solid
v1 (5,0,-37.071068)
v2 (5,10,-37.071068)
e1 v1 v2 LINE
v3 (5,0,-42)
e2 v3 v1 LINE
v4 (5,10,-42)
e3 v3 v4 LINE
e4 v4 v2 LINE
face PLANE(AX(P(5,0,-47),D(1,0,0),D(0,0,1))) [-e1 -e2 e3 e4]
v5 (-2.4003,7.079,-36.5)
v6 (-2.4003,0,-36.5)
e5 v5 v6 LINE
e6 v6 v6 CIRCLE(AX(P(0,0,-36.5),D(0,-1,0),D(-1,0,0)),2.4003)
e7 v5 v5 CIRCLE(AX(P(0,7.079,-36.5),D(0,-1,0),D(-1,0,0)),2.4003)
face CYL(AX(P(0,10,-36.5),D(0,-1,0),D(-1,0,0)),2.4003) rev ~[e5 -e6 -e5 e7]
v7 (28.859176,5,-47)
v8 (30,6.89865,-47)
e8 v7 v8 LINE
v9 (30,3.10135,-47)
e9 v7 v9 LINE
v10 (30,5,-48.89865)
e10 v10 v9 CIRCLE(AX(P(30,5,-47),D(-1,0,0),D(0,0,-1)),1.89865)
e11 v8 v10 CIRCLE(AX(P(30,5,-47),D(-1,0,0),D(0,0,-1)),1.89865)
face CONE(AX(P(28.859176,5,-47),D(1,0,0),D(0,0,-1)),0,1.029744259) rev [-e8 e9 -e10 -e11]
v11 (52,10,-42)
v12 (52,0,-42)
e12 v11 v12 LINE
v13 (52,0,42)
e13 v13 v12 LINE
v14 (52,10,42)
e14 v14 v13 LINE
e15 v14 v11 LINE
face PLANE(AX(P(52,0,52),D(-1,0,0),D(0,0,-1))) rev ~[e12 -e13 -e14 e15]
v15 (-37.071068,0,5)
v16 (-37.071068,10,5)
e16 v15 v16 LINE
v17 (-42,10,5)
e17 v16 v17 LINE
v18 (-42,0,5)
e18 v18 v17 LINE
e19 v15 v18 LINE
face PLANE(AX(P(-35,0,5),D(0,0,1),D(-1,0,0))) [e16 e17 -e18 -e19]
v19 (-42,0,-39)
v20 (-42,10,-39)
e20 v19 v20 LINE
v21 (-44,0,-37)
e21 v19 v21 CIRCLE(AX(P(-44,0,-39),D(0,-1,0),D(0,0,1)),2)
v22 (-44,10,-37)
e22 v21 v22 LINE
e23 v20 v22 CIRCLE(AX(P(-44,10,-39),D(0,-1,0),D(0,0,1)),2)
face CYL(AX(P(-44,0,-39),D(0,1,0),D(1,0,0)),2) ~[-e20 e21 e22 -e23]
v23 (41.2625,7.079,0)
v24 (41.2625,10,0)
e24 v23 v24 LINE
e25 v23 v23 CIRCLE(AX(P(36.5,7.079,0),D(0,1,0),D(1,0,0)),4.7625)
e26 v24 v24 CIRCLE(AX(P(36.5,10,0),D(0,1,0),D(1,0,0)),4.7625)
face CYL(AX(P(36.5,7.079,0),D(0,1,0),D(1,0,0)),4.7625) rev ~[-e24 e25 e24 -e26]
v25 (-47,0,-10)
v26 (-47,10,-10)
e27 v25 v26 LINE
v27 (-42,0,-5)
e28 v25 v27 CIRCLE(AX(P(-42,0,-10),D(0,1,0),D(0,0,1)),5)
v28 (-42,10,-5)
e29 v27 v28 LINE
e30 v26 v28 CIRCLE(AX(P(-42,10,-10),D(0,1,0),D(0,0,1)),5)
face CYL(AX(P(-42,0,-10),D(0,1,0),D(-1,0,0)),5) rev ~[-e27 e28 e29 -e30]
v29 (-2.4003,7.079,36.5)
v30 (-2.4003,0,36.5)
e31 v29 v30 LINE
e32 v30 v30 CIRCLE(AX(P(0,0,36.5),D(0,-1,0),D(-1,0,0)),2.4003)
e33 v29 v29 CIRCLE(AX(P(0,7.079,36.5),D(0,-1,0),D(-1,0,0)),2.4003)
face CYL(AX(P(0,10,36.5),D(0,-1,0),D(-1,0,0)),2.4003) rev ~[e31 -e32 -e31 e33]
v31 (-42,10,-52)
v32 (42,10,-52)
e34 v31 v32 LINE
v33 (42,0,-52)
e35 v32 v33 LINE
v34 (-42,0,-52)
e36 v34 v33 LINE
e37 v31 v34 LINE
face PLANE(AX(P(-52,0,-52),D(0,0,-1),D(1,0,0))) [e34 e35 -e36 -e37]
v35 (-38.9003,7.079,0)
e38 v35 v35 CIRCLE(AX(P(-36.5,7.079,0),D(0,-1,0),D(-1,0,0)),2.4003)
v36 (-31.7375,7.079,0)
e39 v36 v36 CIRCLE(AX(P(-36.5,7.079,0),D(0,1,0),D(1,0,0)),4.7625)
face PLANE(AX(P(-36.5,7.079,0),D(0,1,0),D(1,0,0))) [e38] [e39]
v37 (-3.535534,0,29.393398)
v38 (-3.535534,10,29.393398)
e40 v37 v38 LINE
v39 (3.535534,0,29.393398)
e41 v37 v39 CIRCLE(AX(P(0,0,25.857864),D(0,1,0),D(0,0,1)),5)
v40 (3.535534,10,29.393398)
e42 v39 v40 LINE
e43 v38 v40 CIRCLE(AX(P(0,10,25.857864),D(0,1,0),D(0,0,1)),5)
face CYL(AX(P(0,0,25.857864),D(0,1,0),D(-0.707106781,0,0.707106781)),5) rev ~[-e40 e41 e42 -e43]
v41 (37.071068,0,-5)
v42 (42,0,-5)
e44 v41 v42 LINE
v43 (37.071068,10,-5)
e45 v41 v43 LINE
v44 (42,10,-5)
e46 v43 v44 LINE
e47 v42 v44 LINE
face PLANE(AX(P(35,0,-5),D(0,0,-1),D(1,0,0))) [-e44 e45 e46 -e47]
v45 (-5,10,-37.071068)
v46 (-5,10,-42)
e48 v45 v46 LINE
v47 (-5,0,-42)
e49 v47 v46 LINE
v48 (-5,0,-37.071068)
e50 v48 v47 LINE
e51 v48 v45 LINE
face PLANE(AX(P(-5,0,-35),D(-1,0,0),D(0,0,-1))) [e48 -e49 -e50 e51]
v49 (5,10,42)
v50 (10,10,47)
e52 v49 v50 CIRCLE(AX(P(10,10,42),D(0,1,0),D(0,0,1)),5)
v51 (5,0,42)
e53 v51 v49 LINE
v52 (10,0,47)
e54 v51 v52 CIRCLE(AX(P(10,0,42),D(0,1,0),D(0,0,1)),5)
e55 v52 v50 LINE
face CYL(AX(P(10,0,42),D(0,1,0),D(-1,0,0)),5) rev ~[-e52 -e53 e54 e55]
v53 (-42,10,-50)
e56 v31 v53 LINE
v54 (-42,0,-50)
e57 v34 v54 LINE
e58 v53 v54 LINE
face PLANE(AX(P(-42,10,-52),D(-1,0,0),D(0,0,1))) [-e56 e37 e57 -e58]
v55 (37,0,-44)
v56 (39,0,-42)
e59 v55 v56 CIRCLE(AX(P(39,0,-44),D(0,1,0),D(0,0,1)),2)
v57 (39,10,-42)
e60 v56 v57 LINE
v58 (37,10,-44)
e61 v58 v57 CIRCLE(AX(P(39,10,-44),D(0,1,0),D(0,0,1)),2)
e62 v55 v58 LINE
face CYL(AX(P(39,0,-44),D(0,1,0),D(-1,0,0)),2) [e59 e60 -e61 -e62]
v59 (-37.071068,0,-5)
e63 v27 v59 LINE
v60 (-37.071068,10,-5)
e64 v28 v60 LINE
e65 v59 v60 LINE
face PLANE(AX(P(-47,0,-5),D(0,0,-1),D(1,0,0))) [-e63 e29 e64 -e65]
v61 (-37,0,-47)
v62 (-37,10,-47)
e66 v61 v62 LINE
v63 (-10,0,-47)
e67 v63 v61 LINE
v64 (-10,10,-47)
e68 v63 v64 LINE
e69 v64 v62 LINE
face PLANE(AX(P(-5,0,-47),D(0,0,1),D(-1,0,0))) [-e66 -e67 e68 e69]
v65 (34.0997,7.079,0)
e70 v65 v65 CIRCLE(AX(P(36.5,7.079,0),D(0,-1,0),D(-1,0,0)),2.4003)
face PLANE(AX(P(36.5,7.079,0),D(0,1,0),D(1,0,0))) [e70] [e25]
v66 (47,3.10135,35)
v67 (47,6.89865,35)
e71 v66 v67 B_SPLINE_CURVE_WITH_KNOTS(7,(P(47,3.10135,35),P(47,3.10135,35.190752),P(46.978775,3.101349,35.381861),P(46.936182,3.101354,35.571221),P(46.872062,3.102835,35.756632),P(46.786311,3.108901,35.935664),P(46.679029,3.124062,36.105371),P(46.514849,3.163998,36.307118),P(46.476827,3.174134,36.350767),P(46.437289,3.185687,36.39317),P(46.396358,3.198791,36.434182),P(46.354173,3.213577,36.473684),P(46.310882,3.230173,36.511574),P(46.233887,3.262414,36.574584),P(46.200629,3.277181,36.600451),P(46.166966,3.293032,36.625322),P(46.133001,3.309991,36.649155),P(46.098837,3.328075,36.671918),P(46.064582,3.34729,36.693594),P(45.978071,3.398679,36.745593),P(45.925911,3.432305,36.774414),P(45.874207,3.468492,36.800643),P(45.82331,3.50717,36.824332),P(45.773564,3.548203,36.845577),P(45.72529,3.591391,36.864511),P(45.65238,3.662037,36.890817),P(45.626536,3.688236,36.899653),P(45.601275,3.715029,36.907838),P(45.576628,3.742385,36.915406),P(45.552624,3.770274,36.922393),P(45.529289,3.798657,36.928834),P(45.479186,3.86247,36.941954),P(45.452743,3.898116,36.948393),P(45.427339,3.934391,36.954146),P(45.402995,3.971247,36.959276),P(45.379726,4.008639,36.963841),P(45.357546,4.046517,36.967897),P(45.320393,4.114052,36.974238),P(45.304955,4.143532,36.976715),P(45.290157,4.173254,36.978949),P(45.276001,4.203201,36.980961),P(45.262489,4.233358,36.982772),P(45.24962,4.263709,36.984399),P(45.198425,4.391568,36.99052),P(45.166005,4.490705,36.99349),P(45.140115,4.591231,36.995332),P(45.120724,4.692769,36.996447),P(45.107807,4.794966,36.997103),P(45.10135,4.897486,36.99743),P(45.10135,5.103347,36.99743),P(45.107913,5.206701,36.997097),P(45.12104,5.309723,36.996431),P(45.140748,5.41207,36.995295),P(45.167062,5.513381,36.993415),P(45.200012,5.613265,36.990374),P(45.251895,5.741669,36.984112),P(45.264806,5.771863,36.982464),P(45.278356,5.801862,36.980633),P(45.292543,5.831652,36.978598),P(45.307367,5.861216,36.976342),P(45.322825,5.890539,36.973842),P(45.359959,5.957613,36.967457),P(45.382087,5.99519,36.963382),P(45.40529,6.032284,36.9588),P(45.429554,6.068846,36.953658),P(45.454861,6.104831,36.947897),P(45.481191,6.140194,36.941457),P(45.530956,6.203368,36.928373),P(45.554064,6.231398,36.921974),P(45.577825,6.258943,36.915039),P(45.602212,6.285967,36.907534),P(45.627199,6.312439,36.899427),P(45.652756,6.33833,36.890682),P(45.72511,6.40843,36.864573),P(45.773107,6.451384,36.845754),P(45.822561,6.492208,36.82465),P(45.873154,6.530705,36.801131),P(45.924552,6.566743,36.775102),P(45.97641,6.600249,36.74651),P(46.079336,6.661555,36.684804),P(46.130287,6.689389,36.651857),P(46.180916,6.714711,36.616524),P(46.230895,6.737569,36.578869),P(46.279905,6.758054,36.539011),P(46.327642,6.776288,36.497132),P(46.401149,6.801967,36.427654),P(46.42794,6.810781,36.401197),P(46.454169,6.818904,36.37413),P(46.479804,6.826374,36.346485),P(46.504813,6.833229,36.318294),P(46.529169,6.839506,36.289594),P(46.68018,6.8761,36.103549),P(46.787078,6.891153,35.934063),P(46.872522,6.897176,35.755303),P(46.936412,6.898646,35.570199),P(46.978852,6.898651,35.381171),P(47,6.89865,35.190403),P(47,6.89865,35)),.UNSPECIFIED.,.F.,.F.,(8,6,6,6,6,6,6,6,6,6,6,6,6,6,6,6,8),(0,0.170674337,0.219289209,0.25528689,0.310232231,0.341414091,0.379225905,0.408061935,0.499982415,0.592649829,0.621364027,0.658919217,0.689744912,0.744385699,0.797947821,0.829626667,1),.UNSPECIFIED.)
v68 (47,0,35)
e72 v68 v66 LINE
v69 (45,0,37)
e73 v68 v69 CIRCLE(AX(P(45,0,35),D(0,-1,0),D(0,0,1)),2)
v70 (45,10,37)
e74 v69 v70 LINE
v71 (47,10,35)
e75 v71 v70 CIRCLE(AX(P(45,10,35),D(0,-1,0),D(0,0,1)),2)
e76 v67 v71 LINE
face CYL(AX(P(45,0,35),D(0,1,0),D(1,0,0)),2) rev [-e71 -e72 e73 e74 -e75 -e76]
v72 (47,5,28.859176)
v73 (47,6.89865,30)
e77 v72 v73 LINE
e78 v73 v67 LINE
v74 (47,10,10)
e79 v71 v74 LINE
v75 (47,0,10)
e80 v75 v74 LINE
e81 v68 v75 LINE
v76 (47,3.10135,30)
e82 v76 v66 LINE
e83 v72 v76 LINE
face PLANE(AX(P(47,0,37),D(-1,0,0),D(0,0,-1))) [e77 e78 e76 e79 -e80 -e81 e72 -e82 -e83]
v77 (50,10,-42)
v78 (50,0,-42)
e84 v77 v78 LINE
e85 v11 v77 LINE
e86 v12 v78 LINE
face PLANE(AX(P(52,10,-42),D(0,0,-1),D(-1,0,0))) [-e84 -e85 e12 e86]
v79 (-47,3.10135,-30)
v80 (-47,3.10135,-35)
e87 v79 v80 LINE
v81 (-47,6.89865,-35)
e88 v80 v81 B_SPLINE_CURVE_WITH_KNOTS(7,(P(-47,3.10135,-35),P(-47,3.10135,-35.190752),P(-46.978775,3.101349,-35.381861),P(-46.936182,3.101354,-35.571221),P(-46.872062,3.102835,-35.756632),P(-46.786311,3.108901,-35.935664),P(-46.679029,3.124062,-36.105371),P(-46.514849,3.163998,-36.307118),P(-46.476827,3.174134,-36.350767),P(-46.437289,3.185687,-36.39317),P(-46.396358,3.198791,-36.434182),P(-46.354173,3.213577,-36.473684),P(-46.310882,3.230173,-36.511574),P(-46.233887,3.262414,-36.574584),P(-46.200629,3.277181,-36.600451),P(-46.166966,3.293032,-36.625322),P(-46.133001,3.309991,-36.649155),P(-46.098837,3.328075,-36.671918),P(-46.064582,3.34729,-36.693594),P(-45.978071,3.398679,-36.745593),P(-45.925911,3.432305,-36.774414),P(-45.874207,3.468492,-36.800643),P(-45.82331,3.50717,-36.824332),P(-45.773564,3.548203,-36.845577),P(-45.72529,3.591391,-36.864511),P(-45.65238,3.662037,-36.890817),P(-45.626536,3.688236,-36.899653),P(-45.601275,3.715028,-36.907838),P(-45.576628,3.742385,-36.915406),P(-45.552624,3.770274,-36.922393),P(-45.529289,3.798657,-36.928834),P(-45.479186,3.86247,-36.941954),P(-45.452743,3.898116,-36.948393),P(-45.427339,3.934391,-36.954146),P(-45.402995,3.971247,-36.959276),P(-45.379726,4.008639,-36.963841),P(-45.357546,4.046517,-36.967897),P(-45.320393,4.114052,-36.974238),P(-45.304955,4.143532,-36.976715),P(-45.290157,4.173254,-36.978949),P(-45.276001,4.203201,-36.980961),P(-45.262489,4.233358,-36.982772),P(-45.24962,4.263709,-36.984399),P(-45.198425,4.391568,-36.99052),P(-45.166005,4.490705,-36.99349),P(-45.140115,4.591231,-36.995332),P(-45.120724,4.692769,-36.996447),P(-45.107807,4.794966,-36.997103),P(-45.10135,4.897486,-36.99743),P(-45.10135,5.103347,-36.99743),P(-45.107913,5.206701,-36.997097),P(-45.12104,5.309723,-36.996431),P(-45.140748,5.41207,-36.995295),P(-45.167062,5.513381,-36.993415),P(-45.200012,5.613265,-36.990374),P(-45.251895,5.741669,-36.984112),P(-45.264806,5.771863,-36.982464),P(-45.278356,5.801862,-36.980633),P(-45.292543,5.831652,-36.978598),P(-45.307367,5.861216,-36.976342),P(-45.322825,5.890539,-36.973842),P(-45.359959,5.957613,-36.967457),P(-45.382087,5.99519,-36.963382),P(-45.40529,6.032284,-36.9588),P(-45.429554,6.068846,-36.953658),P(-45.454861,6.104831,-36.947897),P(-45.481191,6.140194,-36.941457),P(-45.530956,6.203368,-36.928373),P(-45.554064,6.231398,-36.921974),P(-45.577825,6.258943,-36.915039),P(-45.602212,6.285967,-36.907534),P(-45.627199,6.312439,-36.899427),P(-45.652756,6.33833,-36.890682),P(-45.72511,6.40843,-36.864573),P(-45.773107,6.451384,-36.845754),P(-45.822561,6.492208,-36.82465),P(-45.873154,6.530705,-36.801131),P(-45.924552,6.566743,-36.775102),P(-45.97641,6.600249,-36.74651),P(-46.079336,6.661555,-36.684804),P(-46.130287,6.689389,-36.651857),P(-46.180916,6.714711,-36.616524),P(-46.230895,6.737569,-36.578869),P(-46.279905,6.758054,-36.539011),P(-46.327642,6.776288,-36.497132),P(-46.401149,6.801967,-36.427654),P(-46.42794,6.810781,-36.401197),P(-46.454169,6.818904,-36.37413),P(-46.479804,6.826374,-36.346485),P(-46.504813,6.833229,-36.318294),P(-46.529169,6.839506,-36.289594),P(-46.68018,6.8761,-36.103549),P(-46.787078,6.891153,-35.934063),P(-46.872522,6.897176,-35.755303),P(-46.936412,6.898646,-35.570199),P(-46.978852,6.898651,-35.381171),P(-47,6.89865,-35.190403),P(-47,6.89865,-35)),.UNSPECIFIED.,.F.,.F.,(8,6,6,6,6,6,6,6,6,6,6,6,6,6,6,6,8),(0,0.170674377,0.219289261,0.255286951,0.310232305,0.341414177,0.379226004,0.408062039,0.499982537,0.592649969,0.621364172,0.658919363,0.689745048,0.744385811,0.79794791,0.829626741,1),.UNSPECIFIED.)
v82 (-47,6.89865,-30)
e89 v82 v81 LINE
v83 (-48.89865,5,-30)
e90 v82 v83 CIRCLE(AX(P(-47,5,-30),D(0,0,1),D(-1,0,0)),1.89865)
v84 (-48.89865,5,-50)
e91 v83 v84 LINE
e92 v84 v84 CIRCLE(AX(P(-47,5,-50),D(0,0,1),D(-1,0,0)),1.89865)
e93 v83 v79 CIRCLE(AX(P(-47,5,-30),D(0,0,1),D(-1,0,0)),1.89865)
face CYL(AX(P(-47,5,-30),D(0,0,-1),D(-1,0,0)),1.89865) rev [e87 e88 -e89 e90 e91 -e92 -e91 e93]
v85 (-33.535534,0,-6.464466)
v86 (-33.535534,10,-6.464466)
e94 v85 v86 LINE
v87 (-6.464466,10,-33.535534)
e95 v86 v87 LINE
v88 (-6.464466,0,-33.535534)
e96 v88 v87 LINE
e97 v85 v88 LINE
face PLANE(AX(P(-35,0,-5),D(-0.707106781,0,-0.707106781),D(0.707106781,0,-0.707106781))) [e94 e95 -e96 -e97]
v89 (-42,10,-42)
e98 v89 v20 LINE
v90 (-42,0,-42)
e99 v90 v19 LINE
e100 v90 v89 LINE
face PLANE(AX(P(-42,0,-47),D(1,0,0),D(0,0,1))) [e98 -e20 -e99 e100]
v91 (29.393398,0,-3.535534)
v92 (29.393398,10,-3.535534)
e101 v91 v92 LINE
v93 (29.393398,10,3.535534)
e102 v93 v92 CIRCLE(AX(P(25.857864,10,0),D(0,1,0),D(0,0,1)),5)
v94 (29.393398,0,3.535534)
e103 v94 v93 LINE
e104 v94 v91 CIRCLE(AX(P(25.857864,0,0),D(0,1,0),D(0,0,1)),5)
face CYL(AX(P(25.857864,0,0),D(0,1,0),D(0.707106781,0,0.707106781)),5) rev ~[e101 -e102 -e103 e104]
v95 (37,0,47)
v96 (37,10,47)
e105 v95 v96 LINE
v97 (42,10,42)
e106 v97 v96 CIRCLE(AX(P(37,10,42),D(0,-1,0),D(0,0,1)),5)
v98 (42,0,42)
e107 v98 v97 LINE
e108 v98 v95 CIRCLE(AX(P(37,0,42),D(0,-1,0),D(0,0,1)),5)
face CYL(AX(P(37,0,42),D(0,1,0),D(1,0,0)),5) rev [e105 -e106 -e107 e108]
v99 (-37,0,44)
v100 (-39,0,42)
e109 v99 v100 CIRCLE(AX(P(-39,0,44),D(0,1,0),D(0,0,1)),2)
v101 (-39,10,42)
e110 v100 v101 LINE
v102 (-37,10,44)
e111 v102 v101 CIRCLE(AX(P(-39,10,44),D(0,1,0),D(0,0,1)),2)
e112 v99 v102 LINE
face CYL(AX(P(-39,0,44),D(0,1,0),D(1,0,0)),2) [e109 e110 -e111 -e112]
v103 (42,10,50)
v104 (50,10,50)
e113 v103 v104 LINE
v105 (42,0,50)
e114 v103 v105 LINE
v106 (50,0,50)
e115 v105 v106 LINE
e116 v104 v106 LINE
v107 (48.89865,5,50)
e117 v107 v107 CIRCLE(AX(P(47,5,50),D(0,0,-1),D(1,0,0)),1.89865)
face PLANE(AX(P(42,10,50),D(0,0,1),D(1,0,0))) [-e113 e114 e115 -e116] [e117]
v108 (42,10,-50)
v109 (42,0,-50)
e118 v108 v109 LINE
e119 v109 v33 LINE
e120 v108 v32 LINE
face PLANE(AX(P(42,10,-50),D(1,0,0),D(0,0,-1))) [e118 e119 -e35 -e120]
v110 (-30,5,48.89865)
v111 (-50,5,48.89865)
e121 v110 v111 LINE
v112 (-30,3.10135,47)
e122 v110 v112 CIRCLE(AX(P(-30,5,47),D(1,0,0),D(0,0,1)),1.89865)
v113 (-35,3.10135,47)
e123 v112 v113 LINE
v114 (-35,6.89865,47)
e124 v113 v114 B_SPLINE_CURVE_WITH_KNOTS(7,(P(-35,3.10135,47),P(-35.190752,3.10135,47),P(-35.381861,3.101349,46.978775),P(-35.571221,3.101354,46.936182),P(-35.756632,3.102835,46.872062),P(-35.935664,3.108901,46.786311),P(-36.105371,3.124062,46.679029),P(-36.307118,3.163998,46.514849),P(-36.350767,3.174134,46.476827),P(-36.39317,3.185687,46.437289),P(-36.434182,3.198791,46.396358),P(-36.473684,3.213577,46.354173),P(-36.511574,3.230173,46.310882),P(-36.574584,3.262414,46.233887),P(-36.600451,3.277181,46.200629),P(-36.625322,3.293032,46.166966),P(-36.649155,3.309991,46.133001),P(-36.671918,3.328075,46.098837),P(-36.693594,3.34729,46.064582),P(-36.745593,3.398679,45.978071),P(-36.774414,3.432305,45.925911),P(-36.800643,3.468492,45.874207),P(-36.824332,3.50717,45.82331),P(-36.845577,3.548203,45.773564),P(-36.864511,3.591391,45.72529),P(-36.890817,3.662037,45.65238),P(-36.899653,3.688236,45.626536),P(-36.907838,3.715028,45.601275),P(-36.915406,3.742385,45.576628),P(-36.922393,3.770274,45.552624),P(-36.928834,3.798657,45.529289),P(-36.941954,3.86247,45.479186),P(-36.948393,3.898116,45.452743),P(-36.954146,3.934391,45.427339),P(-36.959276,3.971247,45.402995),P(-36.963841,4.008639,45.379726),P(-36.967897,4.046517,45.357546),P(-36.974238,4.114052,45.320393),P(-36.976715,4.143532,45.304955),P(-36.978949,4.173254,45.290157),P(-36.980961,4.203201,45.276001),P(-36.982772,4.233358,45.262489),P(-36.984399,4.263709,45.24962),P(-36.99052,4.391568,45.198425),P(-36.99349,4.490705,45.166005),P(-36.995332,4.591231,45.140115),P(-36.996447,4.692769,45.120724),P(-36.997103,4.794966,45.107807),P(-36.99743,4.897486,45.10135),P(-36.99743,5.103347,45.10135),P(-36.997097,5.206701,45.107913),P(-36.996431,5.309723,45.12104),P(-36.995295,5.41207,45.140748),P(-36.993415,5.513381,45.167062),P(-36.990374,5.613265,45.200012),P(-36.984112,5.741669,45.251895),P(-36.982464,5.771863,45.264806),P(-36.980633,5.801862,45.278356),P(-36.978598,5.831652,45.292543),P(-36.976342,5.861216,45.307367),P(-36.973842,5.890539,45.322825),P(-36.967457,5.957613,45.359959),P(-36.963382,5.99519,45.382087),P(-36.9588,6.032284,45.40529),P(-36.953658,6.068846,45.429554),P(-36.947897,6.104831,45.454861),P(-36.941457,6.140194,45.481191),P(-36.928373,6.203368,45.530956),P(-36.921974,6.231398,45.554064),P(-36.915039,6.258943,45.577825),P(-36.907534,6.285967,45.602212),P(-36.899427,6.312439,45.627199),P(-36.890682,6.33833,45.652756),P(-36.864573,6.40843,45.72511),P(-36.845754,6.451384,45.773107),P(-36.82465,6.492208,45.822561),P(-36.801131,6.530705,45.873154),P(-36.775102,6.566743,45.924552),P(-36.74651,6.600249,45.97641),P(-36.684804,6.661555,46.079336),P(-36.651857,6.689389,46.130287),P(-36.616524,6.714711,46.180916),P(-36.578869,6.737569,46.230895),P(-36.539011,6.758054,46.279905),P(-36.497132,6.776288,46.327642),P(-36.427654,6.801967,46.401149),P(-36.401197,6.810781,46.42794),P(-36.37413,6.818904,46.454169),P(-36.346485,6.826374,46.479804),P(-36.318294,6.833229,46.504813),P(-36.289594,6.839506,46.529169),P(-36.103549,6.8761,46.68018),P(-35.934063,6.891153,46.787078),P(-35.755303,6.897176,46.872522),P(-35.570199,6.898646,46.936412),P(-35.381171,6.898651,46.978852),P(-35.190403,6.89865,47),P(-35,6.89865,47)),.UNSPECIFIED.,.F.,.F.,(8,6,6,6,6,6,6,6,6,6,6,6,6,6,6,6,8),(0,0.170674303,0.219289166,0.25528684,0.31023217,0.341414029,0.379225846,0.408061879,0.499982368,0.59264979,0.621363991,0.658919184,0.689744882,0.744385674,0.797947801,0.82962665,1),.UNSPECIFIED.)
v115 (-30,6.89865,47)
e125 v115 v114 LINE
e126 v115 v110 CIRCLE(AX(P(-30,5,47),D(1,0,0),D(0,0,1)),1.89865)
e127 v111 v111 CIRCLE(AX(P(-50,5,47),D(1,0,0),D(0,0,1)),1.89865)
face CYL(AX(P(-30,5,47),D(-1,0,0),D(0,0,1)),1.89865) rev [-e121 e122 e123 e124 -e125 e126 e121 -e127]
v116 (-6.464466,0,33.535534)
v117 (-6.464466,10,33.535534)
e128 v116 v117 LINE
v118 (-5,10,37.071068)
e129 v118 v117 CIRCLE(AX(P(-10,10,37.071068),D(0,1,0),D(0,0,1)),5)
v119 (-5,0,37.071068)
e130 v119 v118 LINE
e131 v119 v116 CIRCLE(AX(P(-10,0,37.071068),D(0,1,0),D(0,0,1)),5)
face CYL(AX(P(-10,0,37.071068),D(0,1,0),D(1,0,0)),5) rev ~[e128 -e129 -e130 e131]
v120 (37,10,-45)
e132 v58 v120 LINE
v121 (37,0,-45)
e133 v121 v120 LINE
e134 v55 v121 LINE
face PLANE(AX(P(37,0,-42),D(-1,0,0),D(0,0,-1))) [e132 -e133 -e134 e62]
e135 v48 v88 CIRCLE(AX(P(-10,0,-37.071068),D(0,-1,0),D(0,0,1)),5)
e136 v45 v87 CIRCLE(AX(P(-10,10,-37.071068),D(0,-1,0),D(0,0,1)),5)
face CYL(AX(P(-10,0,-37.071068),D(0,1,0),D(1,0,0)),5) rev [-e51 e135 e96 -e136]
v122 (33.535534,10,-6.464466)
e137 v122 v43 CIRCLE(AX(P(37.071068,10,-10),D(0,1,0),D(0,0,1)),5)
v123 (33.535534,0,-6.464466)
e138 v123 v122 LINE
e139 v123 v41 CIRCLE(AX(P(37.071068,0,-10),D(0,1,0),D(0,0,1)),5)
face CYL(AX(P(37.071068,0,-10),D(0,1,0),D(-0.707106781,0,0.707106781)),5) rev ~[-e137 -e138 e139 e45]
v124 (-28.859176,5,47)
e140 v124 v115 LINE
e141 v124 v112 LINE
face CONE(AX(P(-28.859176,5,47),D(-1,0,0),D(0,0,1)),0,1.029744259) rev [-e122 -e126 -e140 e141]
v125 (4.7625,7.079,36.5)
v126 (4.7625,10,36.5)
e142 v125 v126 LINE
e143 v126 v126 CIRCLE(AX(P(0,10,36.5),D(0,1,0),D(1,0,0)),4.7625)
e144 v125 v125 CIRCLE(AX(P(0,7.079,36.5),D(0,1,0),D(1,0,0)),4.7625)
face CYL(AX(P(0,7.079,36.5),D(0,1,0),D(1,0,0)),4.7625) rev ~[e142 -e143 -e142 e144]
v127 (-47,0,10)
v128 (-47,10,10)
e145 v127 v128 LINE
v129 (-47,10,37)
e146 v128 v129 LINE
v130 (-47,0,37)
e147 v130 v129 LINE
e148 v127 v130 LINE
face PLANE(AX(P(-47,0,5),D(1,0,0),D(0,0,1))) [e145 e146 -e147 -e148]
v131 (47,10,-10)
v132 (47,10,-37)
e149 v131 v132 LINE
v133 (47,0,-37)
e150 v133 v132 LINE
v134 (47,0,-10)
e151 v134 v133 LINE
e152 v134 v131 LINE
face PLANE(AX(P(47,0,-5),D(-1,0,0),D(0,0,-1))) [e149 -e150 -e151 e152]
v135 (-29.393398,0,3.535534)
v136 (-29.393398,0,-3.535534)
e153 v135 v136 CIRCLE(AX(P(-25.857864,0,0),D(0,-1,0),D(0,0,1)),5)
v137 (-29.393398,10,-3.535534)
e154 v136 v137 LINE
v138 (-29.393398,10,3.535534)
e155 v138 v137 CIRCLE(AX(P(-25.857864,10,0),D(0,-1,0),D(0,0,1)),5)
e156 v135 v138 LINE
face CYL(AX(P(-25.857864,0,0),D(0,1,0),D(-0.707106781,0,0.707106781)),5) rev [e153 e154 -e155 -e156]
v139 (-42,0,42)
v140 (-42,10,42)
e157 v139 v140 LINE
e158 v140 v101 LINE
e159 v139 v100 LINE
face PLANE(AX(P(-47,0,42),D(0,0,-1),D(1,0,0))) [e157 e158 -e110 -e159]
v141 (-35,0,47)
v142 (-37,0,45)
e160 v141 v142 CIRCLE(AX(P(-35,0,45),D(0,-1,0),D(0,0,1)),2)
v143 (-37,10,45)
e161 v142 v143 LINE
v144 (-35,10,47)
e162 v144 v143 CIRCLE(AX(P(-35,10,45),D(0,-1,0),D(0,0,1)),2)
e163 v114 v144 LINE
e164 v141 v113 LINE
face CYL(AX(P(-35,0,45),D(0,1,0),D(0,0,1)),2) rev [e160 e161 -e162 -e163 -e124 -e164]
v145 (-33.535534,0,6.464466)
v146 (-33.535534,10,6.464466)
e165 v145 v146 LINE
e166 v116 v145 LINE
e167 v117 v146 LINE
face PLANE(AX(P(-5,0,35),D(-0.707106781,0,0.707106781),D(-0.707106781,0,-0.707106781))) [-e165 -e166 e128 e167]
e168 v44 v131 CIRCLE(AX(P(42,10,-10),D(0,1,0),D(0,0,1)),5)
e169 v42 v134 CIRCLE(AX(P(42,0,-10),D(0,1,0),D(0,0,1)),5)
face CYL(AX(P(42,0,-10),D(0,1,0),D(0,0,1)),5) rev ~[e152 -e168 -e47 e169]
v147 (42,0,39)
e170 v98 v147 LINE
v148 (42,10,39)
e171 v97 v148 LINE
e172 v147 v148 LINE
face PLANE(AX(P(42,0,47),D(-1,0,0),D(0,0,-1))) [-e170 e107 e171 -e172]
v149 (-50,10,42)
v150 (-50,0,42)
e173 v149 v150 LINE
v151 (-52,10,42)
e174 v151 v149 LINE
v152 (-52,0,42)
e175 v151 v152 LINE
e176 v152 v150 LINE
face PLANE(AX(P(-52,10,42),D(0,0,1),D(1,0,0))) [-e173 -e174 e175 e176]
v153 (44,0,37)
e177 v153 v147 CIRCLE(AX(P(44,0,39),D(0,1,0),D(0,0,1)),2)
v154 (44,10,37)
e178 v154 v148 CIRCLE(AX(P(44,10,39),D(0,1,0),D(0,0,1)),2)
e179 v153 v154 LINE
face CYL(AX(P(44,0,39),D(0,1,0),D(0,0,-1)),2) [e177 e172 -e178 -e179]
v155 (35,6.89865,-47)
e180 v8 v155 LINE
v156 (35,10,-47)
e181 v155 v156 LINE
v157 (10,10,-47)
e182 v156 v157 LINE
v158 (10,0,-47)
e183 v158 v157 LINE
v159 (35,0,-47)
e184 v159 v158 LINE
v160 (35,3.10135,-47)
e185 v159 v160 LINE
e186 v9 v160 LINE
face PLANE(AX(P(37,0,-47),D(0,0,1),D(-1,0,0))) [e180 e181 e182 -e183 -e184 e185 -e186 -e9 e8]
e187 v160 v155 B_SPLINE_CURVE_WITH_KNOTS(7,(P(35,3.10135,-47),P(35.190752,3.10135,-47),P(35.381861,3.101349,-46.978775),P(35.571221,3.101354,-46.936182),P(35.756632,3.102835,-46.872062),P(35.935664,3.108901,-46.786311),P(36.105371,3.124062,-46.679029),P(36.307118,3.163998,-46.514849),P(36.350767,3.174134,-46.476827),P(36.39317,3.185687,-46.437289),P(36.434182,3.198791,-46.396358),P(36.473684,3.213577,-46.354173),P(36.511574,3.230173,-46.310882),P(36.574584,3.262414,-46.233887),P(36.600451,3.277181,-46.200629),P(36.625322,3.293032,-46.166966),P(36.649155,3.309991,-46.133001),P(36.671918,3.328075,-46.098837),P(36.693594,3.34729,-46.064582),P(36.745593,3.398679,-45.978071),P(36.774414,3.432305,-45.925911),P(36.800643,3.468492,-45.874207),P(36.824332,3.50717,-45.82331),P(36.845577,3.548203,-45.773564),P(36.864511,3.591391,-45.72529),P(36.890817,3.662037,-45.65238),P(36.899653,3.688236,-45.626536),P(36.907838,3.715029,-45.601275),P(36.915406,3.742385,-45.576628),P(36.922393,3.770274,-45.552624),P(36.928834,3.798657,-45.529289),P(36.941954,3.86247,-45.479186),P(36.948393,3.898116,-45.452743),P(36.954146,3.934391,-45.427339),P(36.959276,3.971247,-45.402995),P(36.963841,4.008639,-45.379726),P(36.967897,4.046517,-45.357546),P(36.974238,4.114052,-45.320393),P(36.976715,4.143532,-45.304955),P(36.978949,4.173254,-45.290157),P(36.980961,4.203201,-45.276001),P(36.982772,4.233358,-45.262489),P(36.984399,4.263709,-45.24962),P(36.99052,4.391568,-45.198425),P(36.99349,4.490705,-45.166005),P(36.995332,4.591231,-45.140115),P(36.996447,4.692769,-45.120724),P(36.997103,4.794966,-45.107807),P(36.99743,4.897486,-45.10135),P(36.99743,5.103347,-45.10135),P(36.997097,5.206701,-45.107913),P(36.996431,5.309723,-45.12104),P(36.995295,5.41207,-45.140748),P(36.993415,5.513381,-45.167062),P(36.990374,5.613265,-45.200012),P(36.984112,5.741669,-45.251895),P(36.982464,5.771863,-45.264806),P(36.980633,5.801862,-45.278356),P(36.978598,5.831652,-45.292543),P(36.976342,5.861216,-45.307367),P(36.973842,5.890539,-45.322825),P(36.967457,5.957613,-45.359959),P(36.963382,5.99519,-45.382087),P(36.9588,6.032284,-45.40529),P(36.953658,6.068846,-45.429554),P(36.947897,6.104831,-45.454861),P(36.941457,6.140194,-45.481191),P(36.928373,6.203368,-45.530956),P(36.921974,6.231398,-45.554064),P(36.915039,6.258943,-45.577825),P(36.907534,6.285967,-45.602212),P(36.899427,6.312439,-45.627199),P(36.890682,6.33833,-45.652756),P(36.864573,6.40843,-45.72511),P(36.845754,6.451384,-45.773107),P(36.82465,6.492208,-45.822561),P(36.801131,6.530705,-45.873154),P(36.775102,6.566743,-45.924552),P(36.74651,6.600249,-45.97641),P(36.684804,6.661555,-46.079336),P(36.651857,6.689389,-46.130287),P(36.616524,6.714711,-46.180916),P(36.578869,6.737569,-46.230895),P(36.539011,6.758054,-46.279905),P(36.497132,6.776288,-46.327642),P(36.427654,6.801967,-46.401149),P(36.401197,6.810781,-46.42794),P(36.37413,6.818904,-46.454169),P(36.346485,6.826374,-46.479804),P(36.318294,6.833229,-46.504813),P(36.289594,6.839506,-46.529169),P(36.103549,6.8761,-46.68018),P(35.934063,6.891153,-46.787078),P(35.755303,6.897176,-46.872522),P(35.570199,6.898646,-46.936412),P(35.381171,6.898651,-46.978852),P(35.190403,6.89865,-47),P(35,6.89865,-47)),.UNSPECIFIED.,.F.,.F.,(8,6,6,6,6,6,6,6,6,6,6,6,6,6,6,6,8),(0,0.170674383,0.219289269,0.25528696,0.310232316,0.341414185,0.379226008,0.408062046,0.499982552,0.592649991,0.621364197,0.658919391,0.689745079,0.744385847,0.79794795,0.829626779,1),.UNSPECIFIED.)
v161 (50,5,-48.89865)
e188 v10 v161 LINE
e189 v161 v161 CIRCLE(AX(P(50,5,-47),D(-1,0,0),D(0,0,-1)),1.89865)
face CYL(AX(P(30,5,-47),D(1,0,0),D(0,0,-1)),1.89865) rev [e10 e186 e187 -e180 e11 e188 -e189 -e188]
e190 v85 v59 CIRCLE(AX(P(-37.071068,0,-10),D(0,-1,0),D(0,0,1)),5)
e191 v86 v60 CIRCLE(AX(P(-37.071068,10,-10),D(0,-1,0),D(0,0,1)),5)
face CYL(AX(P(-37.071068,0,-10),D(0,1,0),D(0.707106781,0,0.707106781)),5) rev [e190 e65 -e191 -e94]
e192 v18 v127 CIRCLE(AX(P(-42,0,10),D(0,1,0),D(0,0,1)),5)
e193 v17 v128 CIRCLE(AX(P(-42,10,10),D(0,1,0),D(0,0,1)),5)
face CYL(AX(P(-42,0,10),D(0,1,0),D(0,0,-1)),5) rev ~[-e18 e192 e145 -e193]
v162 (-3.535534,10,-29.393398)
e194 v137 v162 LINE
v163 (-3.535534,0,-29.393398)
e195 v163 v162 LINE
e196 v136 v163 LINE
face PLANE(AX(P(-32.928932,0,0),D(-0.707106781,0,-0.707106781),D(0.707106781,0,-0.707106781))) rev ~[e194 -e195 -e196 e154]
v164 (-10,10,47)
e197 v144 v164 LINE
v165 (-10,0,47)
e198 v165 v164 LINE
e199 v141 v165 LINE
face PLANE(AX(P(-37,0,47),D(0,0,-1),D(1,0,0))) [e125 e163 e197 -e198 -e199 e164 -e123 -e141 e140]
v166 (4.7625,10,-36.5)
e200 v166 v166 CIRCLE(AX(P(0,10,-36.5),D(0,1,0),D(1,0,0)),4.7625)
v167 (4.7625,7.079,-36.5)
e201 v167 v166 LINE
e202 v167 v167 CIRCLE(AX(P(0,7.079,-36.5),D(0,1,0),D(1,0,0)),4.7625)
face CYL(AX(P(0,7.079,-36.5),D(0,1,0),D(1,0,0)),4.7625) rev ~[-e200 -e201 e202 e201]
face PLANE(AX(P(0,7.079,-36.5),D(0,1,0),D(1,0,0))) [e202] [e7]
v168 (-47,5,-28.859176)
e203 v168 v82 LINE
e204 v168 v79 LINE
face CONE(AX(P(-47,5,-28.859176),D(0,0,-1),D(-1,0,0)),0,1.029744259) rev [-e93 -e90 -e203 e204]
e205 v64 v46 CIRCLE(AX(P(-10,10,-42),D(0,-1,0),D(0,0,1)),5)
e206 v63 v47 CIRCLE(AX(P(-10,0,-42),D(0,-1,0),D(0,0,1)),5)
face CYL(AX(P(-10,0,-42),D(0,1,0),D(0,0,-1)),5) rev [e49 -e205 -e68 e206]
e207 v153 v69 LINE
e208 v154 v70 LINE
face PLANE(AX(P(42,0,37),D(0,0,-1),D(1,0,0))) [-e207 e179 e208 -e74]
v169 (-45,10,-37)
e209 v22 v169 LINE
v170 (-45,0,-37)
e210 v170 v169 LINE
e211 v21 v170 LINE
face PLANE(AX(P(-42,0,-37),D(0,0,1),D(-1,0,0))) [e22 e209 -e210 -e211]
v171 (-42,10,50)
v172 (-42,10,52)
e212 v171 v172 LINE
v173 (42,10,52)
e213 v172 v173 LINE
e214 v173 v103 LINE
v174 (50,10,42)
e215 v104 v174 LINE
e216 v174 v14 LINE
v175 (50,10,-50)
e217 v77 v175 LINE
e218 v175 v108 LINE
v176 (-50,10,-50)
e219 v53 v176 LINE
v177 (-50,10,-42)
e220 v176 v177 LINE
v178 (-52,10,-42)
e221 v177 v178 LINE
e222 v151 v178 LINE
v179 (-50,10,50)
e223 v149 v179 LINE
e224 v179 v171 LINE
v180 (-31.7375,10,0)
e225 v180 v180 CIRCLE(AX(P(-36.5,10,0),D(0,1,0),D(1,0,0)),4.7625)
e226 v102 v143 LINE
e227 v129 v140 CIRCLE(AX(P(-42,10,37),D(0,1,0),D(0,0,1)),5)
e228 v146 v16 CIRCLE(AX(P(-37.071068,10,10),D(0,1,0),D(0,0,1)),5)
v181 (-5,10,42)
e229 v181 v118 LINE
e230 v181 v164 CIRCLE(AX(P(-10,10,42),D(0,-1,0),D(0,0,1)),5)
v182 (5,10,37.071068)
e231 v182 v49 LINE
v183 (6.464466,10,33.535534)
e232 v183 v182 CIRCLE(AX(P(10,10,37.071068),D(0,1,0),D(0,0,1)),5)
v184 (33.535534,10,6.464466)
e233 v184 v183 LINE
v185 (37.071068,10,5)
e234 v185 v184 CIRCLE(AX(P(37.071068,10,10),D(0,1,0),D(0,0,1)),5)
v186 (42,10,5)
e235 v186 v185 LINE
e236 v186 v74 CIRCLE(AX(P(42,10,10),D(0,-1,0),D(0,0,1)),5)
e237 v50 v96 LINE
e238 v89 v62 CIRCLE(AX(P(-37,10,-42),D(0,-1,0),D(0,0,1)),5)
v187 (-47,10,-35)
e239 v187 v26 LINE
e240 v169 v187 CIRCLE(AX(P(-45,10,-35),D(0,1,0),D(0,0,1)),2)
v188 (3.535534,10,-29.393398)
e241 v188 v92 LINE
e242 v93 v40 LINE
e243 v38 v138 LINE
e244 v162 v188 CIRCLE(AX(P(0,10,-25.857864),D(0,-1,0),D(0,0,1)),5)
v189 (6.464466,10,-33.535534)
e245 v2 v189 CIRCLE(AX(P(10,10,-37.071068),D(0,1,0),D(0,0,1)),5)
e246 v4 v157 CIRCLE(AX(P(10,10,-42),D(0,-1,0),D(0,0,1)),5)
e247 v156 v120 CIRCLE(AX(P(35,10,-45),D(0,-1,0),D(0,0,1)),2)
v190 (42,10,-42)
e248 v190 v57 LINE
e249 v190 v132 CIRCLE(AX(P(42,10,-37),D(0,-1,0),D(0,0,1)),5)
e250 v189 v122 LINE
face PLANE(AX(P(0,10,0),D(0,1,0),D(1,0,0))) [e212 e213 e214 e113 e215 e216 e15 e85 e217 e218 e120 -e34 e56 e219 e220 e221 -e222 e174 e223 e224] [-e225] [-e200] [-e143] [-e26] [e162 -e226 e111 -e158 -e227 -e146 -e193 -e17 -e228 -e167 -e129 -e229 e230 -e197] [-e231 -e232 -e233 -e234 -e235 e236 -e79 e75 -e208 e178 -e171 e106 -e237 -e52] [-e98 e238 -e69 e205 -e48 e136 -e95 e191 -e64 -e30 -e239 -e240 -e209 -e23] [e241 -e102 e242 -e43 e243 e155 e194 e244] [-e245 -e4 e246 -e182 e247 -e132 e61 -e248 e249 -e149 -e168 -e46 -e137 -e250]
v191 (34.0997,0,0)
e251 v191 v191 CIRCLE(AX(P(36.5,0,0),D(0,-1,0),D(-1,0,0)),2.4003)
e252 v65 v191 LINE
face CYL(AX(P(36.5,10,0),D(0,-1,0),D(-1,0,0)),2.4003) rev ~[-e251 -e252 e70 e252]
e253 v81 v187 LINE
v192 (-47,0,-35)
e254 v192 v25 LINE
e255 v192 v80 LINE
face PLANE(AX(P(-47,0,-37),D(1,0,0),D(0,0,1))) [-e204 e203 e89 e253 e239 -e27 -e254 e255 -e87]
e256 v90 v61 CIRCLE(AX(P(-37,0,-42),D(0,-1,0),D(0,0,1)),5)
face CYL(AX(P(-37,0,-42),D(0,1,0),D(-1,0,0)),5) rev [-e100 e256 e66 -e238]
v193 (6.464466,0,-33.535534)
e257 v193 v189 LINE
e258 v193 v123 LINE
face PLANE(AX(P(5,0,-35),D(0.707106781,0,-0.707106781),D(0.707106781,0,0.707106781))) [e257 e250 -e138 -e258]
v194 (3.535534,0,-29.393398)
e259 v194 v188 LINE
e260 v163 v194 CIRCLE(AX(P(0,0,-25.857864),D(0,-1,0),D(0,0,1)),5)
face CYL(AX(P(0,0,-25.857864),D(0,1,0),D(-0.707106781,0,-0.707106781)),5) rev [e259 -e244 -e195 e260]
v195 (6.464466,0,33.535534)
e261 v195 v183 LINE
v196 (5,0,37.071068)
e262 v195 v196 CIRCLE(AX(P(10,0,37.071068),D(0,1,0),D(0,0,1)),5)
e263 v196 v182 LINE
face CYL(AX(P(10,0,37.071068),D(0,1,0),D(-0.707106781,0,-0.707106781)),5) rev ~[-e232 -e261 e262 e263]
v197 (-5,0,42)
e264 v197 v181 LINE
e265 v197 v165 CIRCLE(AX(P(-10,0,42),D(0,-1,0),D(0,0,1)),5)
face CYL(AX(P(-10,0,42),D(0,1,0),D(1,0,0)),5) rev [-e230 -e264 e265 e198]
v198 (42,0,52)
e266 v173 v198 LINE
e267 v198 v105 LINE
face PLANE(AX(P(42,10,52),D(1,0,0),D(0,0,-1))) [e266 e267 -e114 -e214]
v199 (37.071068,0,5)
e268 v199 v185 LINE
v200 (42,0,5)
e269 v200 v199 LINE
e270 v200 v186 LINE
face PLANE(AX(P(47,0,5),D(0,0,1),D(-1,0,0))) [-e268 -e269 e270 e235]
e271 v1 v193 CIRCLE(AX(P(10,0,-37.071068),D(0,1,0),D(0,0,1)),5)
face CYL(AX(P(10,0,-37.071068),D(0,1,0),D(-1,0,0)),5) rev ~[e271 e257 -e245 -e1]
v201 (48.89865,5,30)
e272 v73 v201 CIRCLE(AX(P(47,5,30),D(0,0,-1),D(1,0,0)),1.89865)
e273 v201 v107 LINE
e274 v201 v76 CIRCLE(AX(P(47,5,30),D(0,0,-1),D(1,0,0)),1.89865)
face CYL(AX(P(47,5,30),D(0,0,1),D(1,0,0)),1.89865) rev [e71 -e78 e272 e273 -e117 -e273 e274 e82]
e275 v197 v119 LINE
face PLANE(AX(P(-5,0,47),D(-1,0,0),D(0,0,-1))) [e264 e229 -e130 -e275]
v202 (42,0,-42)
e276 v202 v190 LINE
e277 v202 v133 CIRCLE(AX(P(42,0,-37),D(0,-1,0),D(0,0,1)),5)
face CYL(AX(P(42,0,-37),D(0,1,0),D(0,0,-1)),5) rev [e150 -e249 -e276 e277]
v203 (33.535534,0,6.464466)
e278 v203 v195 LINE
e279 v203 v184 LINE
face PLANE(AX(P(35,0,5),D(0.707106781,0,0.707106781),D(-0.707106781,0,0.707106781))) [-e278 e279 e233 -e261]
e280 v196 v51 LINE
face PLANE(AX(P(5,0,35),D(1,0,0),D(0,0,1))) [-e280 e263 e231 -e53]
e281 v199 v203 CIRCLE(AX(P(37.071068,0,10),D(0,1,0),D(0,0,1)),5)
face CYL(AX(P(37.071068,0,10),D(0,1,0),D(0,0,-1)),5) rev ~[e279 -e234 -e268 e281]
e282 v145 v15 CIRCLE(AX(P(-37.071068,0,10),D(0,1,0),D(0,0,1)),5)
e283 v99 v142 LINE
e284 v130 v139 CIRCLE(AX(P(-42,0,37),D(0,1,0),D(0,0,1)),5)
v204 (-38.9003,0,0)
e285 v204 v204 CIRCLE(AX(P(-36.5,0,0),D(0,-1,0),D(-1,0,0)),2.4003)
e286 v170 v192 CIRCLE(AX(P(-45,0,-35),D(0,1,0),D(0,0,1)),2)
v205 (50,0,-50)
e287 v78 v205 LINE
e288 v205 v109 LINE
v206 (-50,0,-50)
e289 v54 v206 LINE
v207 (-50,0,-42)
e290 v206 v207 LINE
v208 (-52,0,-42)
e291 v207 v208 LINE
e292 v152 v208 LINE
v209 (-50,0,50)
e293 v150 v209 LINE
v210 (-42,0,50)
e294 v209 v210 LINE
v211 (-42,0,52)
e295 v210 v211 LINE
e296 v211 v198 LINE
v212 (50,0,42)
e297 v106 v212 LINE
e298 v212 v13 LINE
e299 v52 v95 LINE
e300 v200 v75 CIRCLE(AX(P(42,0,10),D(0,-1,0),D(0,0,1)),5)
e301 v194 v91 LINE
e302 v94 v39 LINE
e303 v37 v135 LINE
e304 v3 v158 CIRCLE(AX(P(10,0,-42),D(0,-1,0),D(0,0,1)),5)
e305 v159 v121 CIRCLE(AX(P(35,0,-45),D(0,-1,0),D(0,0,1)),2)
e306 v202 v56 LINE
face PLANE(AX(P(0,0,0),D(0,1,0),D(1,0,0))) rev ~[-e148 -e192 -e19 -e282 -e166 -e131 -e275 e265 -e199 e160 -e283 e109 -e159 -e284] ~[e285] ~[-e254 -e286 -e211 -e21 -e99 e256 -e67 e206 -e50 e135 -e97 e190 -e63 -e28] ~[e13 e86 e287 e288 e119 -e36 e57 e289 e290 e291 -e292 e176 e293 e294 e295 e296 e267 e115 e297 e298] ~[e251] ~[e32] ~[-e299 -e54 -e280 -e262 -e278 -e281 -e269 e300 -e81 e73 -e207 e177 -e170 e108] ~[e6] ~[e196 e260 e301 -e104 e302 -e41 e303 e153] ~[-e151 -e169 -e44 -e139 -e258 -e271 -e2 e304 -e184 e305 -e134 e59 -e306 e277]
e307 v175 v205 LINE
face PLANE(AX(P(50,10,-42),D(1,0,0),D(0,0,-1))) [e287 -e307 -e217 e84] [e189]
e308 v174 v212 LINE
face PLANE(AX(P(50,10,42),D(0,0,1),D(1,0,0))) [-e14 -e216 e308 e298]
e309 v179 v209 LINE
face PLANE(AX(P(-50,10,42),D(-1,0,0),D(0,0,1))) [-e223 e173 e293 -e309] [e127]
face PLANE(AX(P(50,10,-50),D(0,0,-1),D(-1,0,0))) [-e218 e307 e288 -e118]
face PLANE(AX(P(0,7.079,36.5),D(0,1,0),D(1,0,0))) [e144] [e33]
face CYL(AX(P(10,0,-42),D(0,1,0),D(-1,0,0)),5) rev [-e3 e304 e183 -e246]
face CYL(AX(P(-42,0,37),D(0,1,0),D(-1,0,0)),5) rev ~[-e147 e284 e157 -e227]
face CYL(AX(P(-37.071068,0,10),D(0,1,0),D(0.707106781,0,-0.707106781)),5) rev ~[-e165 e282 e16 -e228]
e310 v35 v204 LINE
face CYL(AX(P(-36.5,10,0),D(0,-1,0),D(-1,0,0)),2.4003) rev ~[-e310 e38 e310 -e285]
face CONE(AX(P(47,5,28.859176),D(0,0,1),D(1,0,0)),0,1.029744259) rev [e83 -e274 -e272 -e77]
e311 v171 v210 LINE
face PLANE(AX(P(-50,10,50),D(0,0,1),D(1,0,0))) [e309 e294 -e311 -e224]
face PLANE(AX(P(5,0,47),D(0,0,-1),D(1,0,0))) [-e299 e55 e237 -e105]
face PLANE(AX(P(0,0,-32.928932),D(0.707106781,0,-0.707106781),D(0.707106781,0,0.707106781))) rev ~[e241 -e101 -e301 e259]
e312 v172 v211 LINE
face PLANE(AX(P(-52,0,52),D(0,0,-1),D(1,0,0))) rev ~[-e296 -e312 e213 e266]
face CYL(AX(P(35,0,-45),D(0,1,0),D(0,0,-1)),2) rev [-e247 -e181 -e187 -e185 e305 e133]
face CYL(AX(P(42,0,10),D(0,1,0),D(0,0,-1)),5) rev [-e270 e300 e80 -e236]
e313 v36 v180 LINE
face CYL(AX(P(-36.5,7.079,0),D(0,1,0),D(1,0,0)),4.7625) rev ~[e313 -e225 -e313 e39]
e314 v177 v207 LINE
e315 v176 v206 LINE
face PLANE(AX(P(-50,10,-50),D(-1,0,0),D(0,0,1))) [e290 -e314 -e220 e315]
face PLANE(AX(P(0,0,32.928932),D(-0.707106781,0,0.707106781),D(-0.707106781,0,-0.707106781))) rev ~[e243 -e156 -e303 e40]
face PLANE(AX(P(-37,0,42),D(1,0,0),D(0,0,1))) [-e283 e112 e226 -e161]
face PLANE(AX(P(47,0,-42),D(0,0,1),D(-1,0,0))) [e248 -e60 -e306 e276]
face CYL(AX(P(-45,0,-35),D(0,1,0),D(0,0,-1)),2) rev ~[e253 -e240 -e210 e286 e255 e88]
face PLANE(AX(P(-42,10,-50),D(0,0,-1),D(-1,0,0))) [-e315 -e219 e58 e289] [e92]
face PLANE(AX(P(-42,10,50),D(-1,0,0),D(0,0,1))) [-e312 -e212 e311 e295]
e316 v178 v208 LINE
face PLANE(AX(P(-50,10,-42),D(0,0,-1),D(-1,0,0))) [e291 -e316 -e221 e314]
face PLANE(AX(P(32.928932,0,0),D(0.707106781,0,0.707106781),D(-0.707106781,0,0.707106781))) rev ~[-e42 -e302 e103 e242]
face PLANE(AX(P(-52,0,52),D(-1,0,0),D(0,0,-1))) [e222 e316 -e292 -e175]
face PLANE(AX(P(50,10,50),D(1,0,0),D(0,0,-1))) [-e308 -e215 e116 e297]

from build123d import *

# Parameters (mm, degrees)
SKETCH1_W                                           = 104
SKETCH1_H                                           = 104
BOSS_EXTRUDE1_DEPTH                                 = 10
FILLET1_R                                           = 5
CUT_EXTRUDE1_DEPTH                                  = 11
CIRPATTERN1_COUNT                                   = 4
CBORE_FOR_12_BINDING_HEAD_MACHINE_SCREW_D           = 4.8006
CBORE_FOR_12_BINDING_HEAD_MACHINE_SCREW_CBORE_D     = 9.525
CBORE_FOR_12_BINDING_HEAD_MACHINE_SCREW_CBORE_DEPTH = 2.921
FILLET3_R                                           = 2
CIRPATTERN5_COUNT                                   = 4


with BuildPart() as part:
    # Sketch1 → Boss-Extrude1 (new body)
    with BuildSketch(Plane(origin=(0, 0, 0), x_dir=(1, 0, 0), z_dir=(0, 1, 0))):
        Rectangle(SKETCH1_W, SKETCH1_H)
        Polygon((-42, 47), (-42, 37), (-47, 37), (-47, 5), (-35, 5), (-5, 35), (-5, 47), align=None, mode=Mode.SUBTRACT)
        Polygon((-32.928932188, 0), (0, 32.928932188), (32.928932188, 0), (0, -32.928932188), align=None, mode=Mode.SUBTRACT)
        Polygon((5, 47), (5, 35), (35, 5), (47, 5), (47, 42), (37, 42), (37, 47), align=None, mode=Mode.SUBTRACT)
        Polygon((47, -5), (35, -5), (5, -35), (5, -47), (42, -47), (42, -37), (47, -37), align=None, mode=Mode.SUBTRACT)
        Polygon((-5, -47), (-5, -35), (-35, -5), (-47, -5), (-47, -42), (-37, -42), (-37, -47), align=None, mode=Mode.SUBTRACT)
    extrude(amount=BOSS_EXTRUDE1_DEPTH)

    # Fillet1
    fillet1_edges = [part.edges().sort_by_distance(p)[0] for p in [
        (-5, 5, -35),
        (-5, 5, -47),
        (-42, 5, -47),
        (-47, 5, -5),
        (-35, 5, -5),
        (-32.928932188, 5, 0),
        (0, 5, 32.928932188),
        (32.928932188, 5, 0),
        (0, 5, -32.928932188),
        (5, 5, -35),
        (35, 5, -5),
        (47, 5, -5),
        (47, 5, -42),
        (5, 5, -47),
        (35, 5, 5),
        (5, 5, 35),
        (5, 5, 47),
        (42, 5, 47),
        (47, 5, 5),
        (-5, 5, 35),
        (-35, 5, 5),
        (-47, 5, 5),
        (-47, 5, 42),
        (-5, 5, 47),
    ]]
    fillet(fillet1_edges, radius=FILLET1_R)

    # Sketch2 → Cut-Extrude1 (cut, through all)
    with BuildSketch(Plane(origin=(0, 10, 0), x_dir=(1, 0, 0), z_dir=(0, 1, 0))):
        Polygon((-52, 52), (-42, 52), (-42, 50), (-50, 50), (-50, 42), (-52, 42), align=None)
    cut_extrude1 = extrude(amount=-CUT_EXTRUDE1_DEPTH, mode=Mode.SUBTRACT)

    # CirPattern1: Cut-Extrude1 ×4 about axis
    cirpattern1_axis = Axis((0, 0, 0), (0, 1, 0))
    for i in range(1, CIRPATTERN1_COUNT):
        add(cut_extrude1.rotate(cirpattern1_axis, i * 360 / CIRPATTERN1_COUNT), mode=Mode.SUBTRACT)

    # CBORE for #12 Binding Head Machine Screw1 (through all)
    with Locations(Plane(origin=(0, 10, 0), x_dir=(1, 0, 0), z_dir=(0, 1, 0))):
        with Locations((0, 36.5), (-36.5, 0), (0, -36.5), (36.5, 0)):
            CounterBoreHole(CBORE_FOR_12_BINDING_HEAD_MACHINE_SCREW_D / 2, CBORE_FOR_12_BINDING_HEAD_MACHINE_SCREW_CBORE_D / 2, CBORE_FOR_12_BINDING_HEAD_MACHINE_SCREW_CBORE_DEPTH)

    # Fillet3
    fillet3_edges = [part.edges().sort_by_distance(p)[0] for p in [
        (-42, 5, -37),
        (-47, 5, -37),
        (37, 5, -42),
        (37, 5, -47),
        (42, 5, 37),
        (47, 5, 37),
        (-37, 5, 42),
        (-37, 5, 47),
    ]]
    fillet(fillet3_edges, radius=FILLET3_R)

    # Sketch9 → #10-24 Tapped Hole1 (revolve, cut)
    with BuildSketch(Plane(origin=(50, 5, -47), x_dir=(0, 0, -1), z_dir=(0, 1, 0))):
        Polygon((0, 0), (0, 21.140824014), (1.89865, 20), (1.89865, 0), align=None)
    f_10_24_tapped_hole1 = revolve(axis=Axis((56.35, 5, -47), (-1, 0, 0)), mode=Mode.SUBTRACT)

    # CirPattern5: #10-24 Tapped Hole1 ×4 about axis
    cirpattern5_axis = Axis((0, 10.5, 0), (0, -1, 0))
    for i in range(1, CIRPATTERN5_COUNT):
        add(f_10_24_tapped_hole1.rotate(cirpattern5_axis, i * 360 / CIRPATTERN5_COUNT), mode=Mode.SUBTRACT)


solid = part.part
